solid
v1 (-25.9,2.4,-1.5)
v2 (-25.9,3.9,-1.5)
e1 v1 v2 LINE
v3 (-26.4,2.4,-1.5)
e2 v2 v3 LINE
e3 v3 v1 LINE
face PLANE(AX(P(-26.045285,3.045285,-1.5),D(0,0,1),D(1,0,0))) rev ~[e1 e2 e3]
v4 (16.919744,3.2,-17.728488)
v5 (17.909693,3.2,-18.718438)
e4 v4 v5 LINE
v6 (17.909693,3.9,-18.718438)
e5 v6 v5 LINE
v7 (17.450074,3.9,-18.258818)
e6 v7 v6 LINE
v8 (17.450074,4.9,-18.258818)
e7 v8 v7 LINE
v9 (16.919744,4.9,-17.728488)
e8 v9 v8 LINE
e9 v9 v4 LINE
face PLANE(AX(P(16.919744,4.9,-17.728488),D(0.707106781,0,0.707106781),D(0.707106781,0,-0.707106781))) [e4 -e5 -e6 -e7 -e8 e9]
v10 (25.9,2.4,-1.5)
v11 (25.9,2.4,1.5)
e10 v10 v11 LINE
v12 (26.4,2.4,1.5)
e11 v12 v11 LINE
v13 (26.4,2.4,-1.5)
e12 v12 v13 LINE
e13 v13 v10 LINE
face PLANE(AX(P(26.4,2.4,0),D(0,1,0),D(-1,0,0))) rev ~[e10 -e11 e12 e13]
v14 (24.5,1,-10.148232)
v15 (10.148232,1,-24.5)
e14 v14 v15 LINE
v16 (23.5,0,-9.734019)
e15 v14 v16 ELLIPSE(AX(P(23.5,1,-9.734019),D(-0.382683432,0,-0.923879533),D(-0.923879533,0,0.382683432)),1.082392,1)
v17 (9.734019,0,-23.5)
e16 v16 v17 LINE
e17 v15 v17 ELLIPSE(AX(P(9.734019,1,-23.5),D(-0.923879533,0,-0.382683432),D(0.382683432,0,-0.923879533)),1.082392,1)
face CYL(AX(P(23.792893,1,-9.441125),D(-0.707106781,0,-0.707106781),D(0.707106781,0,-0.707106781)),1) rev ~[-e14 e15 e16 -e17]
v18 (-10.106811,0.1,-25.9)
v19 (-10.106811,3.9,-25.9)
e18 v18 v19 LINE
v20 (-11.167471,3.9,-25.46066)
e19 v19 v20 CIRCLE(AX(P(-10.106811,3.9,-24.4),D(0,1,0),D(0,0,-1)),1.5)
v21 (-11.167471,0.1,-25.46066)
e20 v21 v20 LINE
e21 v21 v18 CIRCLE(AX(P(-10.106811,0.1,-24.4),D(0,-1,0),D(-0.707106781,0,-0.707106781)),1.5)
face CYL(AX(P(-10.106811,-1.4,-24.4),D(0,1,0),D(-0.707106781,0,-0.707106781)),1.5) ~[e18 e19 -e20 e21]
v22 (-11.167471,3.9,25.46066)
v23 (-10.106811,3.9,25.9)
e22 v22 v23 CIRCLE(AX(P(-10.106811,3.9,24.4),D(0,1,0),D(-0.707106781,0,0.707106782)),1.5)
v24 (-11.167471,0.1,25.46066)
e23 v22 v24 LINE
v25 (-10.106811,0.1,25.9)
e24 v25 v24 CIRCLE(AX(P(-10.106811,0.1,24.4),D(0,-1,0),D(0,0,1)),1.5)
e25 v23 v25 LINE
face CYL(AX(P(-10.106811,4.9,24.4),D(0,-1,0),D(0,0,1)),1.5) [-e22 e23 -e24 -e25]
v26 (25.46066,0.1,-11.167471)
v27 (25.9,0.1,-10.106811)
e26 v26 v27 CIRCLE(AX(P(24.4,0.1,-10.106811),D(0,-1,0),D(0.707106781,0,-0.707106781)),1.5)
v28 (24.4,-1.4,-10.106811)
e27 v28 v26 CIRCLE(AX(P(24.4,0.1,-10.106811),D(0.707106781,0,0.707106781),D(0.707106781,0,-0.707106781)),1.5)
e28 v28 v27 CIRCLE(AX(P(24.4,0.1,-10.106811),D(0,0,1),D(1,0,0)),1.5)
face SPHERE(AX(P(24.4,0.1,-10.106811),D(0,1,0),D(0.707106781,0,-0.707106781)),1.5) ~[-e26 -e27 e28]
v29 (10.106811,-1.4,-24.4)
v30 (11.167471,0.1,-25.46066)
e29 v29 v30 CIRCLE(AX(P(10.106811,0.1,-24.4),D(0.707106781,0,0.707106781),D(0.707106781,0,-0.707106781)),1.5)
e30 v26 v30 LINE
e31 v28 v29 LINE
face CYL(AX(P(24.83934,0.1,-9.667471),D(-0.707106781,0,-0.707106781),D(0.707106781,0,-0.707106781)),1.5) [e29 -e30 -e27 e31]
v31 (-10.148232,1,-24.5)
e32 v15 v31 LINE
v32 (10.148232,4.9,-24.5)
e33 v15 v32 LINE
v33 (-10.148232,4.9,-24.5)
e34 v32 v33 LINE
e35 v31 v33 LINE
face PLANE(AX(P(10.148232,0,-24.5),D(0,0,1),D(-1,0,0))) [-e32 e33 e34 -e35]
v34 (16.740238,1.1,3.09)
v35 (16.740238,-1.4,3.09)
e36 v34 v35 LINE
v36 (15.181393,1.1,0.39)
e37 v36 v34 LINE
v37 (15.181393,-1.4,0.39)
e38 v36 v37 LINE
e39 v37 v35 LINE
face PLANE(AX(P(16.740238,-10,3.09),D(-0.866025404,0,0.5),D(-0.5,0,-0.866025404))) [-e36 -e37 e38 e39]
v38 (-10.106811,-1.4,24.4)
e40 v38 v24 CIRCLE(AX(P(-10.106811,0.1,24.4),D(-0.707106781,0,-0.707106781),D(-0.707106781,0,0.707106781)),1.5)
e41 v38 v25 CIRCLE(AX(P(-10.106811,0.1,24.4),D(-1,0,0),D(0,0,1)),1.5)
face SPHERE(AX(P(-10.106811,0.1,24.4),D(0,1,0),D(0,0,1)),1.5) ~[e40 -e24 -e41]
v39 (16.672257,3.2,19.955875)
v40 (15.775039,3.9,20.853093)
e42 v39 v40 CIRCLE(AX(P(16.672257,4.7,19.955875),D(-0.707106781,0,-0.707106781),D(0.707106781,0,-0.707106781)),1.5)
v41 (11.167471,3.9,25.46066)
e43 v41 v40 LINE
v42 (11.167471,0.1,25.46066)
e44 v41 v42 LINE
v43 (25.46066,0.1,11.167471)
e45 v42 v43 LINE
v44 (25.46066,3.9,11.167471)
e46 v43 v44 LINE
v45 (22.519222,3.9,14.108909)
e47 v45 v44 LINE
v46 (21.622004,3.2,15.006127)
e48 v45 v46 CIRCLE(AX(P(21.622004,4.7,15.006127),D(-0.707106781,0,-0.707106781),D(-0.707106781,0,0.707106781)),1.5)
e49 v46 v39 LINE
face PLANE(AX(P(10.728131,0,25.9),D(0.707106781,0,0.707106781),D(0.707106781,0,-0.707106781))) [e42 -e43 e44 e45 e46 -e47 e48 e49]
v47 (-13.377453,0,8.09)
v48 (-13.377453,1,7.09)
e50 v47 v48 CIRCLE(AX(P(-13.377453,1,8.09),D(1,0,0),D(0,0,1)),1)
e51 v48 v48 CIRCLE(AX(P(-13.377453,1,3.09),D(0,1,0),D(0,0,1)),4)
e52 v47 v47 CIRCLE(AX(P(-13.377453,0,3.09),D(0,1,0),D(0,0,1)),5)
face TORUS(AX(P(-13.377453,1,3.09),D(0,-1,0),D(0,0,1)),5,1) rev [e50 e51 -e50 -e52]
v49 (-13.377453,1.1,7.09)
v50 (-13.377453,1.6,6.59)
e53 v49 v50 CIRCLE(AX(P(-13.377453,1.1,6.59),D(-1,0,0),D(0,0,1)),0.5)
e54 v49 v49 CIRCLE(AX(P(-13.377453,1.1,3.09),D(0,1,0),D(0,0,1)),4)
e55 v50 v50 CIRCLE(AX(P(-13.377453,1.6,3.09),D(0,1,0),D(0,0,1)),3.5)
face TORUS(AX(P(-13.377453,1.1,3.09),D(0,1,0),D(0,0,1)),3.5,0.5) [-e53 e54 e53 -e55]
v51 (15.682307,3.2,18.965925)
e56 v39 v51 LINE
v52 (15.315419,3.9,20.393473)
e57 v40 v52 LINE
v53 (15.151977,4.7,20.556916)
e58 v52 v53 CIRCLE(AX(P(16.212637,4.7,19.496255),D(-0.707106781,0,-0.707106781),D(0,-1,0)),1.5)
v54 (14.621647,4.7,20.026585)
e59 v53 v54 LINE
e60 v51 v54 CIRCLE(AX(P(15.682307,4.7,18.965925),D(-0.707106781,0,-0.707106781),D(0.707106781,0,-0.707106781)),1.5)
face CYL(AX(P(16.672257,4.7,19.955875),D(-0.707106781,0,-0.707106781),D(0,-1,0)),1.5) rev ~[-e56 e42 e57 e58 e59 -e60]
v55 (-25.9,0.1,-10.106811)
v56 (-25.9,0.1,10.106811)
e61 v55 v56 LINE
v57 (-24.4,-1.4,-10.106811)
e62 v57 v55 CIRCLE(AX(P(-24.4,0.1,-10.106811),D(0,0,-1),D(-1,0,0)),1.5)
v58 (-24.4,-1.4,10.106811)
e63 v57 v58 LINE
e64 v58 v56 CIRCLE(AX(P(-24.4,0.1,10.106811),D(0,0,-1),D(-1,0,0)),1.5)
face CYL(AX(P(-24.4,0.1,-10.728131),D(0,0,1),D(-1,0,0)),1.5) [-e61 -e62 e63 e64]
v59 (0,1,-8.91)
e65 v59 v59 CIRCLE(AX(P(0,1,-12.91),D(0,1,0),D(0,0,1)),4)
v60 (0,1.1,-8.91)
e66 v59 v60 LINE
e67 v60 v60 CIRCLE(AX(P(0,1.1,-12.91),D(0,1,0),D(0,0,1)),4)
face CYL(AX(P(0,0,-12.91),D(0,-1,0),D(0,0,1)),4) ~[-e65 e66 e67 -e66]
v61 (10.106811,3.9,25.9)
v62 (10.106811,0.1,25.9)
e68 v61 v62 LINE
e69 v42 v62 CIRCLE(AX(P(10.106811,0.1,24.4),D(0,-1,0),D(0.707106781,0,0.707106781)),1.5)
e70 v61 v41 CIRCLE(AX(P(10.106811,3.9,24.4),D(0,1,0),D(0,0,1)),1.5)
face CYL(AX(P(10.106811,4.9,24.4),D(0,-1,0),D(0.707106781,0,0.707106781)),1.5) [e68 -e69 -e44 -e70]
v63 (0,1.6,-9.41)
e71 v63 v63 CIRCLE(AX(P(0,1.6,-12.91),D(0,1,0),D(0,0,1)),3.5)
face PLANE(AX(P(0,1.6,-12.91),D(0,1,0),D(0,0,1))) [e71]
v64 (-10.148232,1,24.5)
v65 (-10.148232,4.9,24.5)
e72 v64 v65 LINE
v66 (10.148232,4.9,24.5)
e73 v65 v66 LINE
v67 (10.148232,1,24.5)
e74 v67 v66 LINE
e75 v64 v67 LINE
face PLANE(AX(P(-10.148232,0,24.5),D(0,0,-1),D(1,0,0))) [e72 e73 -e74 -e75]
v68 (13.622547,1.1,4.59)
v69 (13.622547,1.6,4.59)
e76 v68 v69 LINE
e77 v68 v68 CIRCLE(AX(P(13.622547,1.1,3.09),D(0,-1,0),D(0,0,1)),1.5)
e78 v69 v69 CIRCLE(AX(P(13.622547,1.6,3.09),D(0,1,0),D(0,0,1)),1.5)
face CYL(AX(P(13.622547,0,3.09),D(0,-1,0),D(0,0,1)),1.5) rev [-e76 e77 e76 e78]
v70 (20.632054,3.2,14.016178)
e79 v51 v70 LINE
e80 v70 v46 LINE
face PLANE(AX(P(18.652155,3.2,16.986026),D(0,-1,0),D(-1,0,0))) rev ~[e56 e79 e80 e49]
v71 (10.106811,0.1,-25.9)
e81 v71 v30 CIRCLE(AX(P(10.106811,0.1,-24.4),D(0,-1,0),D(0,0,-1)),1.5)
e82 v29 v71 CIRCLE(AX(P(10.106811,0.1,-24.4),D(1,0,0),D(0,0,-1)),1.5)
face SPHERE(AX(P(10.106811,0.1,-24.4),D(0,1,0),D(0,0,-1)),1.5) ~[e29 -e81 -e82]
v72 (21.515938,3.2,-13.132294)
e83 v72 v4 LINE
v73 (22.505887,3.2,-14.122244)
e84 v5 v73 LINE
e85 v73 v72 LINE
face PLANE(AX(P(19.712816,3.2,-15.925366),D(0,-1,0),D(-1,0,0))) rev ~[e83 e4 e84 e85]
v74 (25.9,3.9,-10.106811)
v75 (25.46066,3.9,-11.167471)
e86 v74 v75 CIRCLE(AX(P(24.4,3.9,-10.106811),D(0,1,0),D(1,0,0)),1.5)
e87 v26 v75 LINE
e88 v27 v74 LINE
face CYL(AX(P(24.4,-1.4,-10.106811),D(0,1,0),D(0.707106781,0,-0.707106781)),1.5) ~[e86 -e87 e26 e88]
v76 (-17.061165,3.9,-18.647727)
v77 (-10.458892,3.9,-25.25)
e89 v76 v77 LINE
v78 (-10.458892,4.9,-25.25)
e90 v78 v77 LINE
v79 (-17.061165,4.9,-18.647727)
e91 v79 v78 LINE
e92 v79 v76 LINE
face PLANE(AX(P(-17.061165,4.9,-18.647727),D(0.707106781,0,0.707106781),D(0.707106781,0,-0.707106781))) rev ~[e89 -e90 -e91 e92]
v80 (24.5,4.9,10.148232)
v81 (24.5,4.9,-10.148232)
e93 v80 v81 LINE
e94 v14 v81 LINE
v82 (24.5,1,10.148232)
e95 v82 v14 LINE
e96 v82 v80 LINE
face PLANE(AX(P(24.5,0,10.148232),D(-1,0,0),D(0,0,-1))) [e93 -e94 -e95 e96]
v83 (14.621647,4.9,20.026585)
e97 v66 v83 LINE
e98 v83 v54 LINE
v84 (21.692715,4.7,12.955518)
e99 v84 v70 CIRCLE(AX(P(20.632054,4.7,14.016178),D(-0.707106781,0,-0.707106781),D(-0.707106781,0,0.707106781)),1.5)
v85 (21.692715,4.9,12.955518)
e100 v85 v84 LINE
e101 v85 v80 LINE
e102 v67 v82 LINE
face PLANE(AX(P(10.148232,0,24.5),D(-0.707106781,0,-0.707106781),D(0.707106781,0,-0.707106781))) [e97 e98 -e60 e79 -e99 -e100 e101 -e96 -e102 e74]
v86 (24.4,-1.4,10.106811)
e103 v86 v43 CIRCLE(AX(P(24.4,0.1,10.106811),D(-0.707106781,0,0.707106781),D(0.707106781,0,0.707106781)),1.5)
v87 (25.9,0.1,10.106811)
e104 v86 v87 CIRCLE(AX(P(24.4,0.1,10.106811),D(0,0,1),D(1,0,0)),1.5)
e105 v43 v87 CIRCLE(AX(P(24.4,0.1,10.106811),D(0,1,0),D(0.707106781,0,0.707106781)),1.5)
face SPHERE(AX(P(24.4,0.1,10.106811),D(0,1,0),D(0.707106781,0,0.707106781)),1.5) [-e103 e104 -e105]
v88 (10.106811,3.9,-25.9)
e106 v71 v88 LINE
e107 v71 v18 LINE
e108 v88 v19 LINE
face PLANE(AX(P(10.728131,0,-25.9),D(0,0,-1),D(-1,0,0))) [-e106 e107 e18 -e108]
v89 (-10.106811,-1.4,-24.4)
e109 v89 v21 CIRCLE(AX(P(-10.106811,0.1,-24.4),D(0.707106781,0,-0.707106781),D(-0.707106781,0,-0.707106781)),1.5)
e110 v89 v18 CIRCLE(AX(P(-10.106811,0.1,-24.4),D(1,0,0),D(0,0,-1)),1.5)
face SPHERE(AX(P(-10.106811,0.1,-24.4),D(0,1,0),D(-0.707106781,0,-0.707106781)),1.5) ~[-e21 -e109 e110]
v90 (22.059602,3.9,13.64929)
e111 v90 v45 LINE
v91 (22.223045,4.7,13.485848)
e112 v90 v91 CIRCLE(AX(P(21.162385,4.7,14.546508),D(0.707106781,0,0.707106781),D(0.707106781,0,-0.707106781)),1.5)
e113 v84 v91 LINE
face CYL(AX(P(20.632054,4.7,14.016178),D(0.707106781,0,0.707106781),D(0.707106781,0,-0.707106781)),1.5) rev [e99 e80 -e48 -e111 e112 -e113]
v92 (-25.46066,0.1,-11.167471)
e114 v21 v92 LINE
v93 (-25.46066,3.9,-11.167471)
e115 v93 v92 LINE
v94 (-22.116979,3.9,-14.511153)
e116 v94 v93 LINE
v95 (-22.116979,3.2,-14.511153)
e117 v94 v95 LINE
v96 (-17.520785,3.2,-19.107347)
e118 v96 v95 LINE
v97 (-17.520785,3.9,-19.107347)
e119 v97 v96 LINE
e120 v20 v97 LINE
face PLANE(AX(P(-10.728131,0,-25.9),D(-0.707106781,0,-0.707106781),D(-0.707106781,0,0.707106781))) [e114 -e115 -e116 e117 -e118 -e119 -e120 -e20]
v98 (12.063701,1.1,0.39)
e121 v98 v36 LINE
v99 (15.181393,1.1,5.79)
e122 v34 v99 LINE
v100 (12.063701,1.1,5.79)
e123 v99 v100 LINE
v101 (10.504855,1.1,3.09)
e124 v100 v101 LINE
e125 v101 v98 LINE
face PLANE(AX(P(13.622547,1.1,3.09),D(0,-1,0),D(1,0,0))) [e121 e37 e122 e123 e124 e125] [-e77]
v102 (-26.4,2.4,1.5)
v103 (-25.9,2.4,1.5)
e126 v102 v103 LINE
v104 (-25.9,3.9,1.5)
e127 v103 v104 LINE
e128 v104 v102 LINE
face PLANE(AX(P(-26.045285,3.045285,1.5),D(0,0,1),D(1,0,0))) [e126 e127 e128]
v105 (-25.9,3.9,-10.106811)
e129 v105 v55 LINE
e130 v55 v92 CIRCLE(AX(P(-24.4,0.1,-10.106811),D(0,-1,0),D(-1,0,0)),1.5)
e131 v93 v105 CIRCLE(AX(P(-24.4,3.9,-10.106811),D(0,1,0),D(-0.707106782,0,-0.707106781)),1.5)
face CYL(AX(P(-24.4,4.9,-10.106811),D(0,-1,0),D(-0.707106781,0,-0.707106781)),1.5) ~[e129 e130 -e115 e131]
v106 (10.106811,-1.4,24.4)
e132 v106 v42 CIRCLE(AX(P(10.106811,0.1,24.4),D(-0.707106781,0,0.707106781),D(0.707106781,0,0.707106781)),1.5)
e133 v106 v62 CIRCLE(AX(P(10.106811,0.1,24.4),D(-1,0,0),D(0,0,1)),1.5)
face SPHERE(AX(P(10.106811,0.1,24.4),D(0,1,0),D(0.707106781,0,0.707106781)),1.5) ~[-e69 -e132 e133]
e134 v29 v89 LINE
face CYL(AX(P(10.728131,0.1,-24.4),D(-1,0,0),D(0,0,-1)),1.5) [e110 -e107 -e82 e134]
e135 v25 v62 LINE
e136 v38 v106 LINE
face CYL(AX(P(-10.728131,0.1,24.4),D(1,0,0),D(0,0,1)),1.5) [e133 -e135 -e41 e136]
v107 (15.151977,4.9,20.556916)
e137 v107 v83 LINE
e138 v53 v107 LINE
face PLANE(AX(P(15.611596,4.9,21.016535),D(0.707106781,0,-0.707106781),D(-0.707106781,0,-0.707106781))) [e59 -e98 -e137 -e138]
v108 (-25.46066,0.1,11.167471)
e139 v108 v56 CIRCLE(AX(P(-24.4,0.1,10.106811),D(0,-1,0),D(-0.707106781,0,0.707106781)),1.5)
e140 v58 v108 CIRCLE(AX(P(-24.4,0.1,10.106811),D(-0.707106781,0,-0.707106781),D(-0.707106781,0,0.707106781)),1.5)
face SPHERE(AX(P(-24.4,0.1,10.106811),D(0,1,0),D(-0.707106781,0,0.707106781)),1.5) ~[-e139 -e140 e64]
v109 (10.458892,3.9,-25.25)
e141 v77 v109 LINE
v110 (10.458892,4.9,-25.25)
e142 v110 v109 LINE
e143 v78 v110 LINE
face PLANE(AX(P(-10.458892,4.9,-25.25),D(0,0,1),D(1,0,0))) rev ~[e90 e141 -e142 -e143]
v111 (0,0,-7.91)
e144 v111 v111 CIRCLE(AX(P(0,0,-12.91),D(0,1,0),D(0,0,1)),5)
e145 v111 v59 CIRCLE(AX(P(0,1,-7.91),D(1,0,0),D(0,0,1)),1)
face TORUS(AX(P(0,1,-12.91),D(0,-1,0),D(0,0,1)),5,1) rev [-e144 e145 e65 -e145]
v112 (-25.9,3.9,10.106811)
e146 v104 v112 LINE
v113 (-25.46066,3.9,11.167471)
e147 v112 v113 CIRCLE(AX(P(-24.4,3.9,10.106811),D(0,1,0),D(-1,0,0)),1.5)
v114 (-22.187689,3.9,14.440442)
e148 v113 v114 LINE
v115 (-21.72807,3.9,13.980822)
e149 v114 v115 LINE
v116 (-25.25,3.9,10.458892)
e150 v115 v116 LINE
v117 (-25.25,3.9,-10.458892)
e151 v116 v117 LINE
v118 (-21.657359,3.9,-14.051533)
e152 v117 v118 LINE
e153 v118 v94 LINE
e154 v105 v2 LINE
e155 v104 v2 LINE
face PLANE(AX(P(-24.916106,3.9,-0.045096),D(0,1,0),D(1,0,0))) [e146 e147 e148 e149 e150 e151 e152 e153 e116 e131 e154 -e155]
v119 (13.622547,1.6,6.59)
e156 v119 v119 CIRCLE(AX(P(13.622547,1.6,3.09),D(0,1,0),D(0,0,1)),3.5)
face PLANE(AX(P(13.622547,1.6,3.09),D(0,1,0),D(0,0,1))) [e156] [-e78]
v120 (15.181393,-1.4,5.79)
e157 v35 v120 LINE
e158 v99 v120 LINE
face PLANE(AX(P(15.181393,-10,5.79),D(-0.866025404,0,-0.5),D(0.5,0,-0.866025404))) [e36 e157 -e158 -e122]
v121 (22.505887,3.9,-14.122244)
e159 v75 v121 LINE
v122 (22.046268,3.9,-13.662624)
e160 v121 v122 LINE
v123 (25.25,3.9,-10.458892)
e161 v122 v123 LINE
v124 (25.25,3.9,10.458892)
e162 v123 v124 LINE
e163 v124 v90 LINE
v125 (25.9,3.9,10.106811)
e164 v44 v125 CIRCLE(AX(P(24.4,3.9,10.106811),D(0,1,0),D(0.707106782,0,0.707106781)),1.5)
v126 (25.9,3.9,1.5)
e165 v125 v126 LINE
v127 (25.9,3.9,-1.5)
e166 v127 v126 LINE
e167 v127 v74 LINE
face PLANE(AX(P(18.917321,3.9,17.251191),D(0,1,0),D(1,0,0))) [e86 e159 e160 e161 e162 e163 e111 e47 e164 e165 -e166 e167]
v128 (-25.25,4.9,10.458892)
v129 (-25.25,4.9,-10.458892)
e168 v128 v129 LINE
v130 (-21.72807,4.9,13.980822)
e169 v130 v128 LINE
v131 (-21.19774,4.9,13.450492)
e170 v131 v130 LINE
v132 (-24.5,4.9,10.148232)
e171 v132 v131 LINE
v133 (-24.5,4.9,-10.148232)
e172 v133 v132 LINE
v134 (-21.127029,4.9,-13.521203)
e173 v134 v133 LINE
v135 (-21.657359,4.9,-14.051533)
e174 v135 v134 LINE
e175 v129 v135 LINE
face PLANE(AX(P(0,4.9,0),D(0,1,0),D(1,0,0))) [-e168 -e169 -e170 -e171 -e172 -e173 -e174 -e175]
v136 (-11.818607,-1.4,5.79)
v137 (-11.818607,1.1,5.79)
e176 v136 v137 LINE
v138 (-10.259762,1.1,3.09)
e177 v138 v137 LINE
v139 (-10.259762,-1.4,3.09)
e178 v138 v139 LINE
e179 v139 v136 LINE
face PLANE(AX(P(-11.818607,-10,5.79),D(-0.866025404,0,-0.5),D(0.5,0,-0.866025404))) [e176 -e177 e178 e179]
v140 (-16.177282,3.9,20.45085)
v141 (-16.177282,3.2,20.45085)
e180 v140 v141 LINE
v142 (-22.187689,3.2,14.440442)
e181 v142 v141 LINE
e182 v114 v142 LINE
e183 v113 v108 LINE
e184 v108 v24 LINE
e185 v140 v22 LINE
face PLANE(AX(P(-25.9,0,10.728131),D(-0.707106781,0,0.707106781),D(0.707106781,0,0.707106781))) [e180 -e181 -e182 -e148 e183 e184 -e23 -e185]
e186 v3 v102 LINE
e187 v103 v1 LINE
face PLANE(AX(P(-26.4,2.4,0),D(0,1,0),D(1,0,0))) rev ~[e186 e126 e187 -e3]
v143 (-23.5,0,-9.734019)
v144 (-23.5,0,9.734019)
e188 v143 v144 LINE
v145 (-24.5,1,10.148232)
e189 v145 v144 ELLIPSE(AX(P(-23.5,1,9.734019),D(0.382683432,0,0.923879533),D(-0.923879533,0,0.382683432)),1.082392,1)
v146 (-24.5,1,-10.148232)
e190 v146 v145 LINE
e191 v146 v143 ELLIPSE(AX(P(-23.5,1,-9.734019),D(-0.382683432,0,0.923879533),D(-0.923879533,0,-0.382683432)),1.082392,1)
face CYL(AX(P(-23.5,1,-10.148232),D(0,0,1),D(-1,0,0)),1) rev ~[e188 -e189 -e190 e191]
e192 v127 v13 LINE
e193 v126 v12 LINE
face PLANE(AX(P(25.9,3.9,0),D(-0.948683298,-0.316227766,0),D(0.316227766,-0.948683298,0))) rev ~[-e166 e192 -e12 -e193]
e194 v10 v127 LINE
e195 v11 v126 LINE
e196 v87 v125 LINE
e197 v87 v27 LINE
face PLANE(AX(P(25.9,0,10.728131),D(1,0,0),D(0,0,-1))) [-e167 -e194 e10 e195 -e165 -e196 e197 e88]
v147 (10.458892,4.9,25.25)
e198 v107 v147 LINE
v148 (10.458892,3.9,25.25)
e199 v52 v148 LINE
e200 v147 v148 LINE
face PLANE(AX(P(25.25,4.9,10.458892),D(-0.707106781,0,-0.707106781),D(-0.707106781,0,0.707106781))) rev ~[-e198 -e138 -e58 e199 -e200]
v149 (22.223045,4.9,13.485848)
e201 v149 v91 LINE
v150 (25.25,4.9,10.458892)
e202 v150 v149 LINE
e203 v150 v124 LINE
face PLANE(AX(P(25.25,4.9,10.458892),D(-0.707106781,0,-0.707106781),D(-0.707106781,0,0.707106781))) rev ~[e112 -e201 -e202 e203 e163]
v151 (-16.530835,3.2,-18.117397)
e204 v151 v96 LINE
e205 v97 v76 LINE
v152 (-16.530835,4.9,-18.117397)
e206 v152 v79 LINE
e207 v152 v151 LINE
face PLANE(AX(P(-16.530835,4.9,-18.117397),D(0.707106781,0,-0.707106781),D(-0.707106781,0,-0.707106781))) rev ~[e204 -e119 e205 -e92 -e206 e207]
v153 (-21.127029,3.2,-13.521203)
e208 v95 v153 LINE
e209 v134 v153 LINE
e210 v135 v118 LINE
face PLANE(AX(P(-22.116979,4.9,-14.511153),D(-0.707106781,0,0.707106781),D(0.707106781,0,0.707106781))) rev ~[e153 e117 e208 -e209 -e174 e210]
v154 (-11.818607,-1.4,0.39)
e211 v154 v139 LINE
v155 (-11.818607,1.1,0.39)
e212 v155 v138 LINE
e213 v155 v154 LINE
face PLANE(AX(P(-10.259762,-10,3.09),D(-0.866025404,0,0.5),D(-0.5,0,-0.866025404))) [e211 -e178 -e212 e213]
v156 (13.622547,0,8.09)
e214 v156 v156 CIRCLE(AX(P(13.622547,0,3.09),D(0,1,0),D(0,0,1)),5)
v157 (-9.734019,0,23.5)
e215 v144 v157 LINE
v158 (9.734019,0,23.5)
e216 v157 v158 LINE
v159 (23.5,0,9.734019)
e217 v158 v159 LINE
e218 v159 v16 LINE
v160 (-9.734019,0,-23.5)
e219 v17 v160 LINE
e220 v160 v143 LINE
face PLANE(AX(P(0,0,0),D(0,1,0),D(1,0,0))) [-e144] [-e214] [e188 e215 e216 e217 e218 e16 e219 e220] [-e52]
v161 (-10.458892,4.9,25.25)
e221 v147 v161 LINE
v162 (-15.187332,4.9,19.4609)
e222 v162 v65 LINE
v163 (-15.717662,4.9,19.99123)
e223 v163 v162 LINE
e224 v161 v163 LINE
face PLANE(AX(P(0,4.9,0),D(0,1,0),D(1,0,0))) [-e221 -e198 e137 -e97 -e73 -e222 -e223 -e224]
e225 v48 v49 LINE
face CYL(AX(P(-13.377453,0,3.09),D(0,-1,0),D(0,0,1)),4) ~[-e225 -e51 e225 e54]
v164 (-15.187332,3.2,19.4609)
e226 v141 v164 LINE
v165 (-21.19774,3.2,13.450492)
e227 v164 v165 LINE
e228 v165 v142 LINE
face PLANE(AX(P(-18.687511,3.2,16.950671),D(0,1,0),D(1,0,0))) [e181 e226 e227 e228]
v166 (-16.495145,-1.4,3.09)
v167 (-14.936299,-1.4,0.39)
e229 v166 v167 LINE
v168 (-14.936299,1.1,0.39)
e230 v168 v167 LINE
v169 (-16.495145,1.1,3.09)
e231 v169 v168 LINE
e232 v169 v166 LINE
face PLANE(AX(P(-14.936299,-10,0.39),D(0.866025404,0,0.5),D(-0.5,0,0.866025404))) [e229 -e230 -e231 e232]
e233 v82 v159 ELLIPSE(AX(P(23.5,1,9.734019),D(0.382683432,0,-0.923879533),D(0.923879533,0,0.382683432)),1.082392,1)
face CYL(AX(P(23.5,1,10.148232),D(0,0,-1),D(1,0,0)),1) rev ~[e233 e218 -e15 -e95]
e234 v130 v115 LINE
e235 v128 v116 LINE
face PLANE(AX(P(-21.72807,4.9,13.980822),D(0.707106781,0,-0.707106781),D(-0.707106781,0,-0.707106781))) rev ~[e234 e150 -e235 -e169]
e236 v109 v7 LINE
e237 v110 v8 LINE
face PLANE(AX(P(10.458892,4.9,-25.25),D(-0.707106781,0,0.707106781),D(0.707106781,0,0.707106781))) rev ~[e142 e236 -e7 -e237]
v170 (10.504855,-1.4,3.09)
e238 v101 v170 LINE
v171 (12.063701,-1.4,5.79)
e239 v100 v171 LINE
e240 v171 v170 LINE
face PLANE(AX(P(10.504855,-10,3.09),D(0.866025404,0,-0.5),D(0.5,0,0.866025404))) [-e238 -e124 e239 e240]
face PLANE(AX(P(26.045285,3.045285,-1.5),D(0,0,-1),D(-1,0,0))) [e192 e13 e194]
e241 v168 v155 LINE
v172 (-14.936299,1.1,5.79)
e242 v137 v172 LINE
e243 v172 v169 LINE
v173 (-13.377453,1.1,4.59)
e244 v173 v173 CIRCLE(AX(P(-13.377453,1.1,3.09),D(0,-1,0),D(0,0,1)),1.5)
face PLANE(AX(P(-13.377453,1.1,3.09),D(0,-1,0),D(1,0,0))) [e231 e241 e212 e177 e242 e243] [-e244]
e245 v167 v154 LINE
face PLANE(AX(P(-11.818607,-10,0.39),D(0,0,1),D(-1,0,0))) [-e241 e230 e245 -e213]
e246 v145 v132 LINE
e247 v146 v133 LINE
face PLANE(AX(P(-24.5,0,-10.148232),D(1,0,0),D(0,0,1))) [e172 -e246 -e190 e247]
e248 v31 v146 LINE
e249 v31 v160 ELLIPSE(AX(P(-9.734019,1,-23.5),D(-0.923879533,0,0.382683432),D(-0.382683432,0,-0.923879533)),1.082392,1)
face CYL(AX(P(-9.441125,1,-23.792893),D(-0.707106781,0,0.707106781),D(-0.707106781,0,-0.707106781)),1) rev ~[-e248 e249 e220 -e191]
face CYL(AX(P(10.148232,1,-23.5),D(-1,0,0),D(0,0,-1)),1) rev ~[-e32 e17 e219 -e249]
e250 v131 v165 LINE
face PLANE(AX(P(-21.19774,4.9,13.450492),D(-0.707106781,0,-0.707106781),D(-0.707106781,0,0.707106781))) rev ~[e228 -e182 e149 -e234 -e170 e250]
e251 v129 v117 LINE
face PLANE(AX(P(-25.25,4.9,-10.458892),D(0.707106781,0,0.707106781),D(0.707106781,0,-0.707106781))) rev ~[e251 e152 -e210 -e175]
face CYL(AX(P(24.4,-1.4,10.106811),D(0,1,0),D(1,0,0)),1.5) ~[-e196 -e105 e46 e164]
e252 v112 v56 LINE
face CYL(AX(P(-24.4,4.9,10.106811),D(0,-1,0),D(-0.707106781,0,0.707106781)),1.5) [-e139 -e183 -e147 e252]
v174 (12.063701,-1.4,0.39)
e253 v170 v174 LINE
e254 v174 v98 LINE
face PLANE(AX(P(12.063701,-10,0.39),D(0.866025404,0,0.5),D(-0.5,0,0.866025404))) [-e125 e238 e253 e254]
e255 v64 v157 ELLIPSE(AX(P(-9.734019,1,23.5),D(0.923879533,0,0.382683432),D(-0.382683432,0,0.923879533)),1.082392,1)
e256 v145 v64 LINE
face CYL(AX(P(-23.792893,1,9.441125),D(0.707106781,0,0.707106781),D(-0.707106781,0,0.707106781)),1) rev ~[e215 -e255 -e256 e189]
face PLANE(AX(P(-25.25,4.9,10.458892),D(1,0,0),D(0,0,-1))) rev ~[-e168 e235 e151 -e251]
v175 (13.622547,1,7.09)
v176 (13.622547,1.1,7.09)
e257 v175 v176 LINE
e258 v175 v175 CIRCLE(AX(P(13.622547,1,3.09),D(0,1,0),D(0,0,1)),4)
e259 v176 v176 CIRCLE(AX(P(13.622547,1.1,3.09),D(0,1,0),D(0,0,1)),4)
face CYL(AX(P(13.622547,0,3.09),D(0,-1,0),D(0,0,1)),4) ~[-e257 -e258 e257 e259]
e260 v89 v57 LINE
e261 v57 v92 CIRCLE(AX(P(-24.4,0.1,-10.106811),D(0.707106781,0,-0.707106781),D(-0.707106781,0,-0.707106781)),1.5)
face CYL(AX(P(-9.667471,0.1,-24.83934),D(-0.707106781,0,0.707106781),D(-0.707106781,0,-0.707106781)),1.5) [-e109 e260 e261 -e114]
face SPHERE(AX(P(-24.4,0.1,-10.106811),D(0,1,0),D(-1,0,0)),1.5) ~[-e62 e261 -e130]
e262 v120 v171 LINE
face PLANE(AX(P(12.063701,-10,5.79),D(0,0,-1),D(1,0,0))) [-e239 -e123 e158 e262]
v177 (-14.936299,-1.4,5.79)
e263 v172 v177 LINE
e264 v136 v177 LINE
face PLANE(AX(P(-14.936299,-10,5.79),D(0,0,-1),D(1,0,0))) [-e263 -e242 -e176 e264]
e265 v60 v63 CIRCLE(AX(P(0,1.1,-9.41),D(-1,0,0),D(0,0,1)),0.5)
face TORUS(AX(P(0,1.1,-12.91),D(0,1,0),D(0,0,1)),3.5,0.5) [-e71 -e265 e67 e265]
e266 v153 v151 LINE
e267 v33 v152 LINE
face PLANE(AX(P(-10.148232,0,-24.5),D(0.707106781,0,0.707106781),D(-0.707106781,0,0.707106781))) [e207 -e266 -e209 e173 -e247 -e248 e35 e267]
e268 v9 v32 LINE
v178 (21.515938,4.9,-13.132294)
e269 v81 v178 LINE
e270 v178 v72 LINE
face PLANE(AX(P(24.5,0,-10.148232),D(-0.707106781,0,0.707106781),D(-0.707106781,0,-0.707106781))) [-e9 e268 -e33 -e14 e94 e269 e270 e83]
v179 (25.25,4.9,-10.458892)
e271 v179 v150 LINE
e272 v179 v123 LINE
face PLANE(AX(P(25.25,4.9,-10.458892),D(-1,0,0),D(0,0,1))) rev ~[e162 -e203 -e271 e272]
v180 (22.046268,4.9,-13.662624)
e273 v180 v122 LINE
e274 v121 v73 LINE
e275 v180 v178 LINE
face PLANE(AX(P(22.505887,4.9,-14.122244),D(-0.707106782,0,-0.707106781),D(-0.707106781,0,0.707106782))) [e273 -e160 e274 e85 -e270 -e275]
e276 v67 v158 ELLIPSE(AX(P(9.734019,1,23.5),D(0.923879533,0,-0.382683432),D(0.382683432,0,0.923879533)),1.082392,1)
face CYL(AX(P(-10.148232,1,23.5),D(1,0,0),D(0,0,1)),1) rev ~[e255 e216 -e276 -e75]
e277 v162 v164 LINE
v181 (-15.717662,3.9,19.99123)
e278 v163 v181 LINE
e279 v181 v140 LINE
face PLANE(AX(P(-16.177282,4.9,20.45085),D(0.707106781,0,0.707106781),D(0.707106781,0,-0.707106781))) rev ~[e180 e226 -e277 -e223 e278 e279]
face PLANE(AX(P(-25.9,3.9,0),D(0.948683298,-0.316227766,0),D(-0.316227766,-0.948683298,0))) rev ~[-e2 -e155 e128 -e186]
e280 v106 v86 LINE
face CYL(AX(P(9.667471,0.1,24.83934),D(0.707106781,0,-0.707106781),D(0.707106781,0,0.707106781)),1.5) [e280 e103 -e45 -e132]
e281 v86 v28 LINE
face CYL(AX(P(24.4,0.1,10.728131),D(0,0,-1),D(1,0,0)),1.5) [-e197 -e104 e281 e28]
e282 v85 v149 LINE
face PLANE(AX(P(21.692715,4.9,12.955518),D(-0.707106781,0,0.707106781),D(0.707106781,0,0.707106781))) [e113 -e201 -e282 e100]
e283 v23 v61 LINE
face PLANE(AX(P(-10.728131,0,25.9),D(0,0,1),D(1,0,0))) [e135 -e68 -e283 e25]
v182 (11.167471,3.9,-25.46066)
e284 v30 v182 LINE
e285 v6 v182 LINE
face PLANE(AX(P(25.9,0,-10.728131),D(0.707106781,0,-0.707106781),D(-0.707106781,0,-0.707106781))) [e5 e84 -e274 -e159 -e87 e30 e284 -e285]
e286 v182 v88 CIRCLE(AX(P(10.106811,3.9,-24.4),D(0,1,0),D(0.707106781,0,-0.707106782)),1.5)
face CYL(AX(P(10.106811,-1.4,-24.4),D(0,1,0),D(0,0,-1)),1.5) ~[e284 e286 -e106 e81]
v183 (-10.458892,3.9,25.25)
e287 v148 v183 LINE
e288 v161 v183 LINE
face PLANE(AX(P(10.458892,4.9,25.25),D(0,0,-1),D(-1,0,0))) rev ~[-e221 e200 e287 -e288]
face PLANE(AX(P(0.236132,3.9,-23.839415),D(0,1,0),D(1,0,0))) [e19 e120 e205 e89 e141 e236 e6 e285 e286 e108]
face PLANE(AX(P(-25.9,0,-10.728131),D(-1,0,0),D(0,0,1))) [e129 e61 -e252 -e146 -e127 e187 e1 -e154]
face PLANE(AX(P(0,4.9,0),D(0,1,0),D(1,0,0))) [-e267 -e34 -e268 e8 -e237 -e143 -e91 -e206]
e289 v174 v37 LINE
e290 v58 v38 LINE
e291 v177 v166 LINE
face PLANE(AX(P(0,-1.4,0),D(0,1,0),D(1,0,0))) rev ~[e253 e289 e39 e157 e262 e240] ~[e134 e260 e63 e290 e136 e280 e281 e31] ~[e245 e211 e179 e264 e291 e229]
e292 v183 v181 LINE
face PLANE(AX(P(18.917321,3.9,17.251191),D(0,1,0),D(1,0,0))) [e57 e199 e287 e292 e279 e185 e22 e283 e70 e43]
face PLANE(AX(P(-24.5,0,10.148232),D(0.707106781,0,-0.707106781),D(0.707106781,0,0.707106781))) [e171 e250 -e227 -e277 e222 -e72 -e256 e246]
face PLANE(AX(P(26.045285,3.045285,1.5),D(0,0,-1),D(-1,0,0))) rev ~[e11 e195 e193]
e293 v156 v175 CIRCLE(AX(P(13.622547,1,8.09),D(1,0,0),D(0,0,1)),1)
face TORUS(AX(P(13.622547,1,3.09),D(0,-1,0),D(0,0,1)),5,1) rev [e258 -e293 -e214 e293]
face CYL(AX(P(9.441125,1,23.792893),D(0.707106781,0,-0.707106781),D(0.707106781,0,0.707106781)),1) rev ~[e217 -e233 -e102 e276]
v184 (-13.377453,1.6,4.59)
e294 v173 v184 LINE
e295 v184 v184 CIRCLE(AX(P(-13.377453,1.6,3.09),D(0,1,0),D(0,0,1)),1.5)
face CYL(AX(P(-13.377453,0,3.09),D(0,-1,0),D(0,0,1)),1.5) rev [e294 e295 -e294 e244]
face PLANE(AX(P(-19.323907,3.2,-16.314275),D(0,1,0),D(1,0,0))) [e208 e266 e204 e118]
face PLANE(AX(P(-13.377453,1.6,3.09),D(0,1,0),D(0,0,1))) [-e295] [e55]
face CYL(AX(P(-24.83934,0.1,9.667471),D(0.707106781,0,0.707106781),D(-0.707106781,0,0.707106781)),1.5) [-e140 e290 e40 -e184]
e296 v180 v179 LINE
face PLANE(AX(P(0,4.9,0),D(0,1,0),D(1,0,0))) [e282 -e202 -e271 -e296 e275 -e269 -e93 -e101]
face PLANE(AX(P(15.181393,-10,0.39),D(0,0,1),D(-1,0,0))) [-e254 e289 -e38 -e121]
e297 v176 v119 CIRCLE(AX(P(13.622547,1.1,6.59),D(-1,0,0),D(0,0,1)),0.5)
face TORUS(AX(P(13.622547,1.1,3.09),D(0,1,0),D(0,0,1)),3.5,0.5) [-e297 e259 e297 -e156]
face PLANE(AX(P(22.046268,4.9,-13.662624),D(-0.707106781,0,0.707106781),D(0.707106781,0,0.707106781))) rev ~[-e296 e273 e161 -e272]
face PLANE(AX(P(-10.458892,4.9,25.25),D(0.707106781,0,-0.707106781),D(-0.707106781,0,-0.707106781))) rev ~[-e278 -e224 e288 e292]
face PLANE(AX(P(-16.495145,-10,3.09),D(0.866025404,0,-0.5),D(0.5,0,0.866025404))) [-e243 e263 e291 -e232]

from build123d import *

# Parameters (mm, degrees)
BOSS_EXTRUDE1_DEPTH = 4.9
SKETCH1_4_R         = 4
SKETCH1_4_R_2       = 1.5
BOSS_EXTRUDE2_DEPTH = 1.4
SKETCH1_5_R         = 4
SKETCH1_5_R_2       = 1.5
BOSS_EXTRUDE3_DEPTH = 1.6
FILLET1_R           = 1
FILLET2_R           = 0.5
CUT_EXTRUDE1_DEPTH  = 1.7
FILLET3_R           = 1.5
CUT_EXTRUDE2_DEPTH  = 1
CUT_EXTRUDE4_START  = -10
SKETCH4_R           = 1.5
CUT_EXTRUDE4_DEPTH  = 10
CUT_EXTRUDE5_DEPTH  = 1.1
BOSS_EXTRUDE5_DEPTH = 1.5


with BuildPart() as part:
    # Sketch1 → Boss-Extrude1 (new body)
    with BuildSketch(Plane(origin=(0, 0, 0), x_dir=(1, 0, 0), z_dir=(0, 1, 0))):
        Polygon((10.728131265, -25.9), (25.9, -10.728131265), (25.9, 10.728131265), (10.728131265, 25.9), (-10.728131265, 25.9), (-25.9, 10.728131265), (-25.9, -10.728131265), (-10.728131265, -25.9), align=None)
        Polygon((24.5, -10.148232278), (24.5, 10.148232278), (10.148232278, 24.5), (-10.148232278, 24.5), (-24.5, 10.148232278), (-24.5, -10.148232278), (-10.148232278, -24.5), (10.148232278, -24.5), align=None, mode=Mode.SUBTRACT)
    extrude(amount=BOSS_EXTRUDE1_DEPTH)

    # Sketch1<4> → Boss-Extrude2 (add)
    # profile 1 of 8: a face of its own
    with BuildSketch(Plane(origin=(0, 0, 0), x_dir=(1, 0, 0), z_dir=(0, 1, 0))):
        Polygon((10.728131265, -25.9), (25.9, -10.728131265), (25.9, 10.728131265), (10.728131265, 25.9), (-10.728131265, 25.9), (-25.9, 10.728131265), (-25.9, -10.728131265), (-10.728131265, -25.9), align=None)
        Polygon((24.5, -10.148232278), (24.5, 10.148232278), (10.148232278, 24.5), (-10.148232278, 24.5), (-24.5, 10.148232278), (-24.5, -10.148232278), (-10.148232278, -24.5), (10.148232278, -24.5), align=None, mode=Mode.SUBTRACT)
    # profile 2 of 8: a face of its own
    with BuildSketch(Plane(origin=(0, 0, 0), x_dir=(1, 0, 0), z_dir=(0, 1, 0))):
        Polygon((10.148232278, -24.5), (24.5, -10.148232278), (24.5, 10.148232278), (10.148232278, 24.5), (-10.148232278, 24.5), (-24.5, 10.148232278), (-24.5, -10.148232278), (-10.148232278, -24.5), align=None)
        Polygon((24.1, -9.982546853), (24.1, 9.982546853), (9.982546853, 24.1), (-9.982546853, 24.1), (-24.1, 9.982546853), (-24.1, -9.982546853), (-9.982546853, -24.1), (9.982546853, -24.1), align=None, mode=Mode.SUBTRACT)
    # profile 3 of 8: a face of its own
    with BuildSketch(Plane(origin=(0, 0, 0), x_dir=(1, 0, 0), z_dir=(0, 1, 0))):
        Polygon((9.982546853, -24.1), (24.1, -9.982546853), (24.1, 9.982546853), (9.982546853, 24.1), (-9.982546853, 24.1), (-24.1, 9.982546853), (-24.1, -9.982546853), (-9.982546853, -24.1), align=None)
        with Locations((-13.377453147, -3.09)):
            Circle(SKETCH1_4_R, mode=Mode.SUBTRACT)
        with Locations((13.622546853, -3.09)):
            Circle(SKETCH1_4_R, mode=Mode.SUBTRACT)
    # profile 4 of 8: a face of its own
    with BuildSketch(Plane(origin=(0, 0, 0), x_dir=(1, 0, 0), z_dir=(0, 1, 0))):
        with Locations((13.622546853, -3.09)):
            Circle(SKETCH1_4_R)
        with Locations((13.622546853, -3.09)):
            Circle(SKETCH1_4_R_2, mode=Mode.SUBTRACT)
    # profile 5 of 8: a face of its own
    with BuildSketch(Plane(origin=(0, 0, 0), x_dir=(1, 0, 0), z_dir=(0, 1, 0))):
        with Locations((13.622546853, -3.09)):
            Circle(SKETCH1_4_R_2)
    # profile 6 of 8: a face of its own
    with BuildSketch(Plane(origin=(0, 0, 0), x_dir=(1, 0, 0), z_dir=(0, 1, 0))):
        with Locations((-13.377453147, -3.09)):
            Circle(SKETCH1_4_R)
        with Locations((-13.377453147, -3.09)):
            Circle(SKETCH1_4_R_2, mode=Mode.SUBTRACT)
    # profile 7 of 8: a face of its own
    with BuildSketch(Plane(origin=(0, 0, 0), x_dir=(1, 0, 0), z_dir=(0, 1, 0))):
        with Locations((-13.377453147, -3.09)):
            Circle(SKETCH1_4_R_2)
    # profile 8 of 8: a face of its own
    with BuildSketch(Plane(origin=(0, 0, 0), x_dir=(1, 0, 0), z_dir=(0, 1, 0))):
        with Locations((0, 12.91)):
            Circle(SKETCH1_4_R)
    extrude(amount=-BOSS_EXTRUDE2_DEPTH)

    # Sketch1<5> → Boss-Extrude3 (add)
    # profile 1 of 3: a face of its own
    with BuildSketch(Plane(origin=(0, 0, 0), x_dir=(1, 0, 0), z_dir=(0, 1, 0))):
        with Locations(Location((-13.377453147, -3.09, 0), (0, 0, 270))):
            Circle(SKETCH1_5_R)
        with Locations(Location((-13.377453147, -3.09, 0), (0, 0, 270))):
            Circle(SKETCH1_5_R_2, mode=Mode.SUBTRACT)
    # profile 2 of 3: a face of its own
    with BuildSketch(Plane(origin=(0, 0, 0), x_dir=(1, 0, 0), z_dir=(0, 1, 0))):
        with Locations(Location((13.622546853, -3.09, 0), (0, 0, 270))):
            Circle(SKETCH1_5_R)
        with Locations(Location((13.622546853, -3.09, 0), (0, 0, 270))):
            Circle(SKETCH1_5_R_2, mode=Mode.SUBTRACT)
    # profile 3 of 3: a face of its own
    with BuildSketch(Plane(origin=(0, 0, 0), x_dir=(1, 0, 0), z_dir=(0, 1, 0))):
        with Locations(Location((0, 12.91, 0), (0, 0, 270))):
            Circle(SKETCH1_5_R)
    extrude(amount=BOSS_EXTRUDE3_DEPTH)

    # Fillet1
    fillet1_edges = [part.edges().sort_by_distance(p)[0] for p in [
        (17.324116139, 0, -17.324116139),
        (0, 0, -24.5),
        (-17.324116139, 0, -17.324116139),
        (-24.5, 0, 0),
        (-17.324116139, 0, 17.324116139),
        (0, 0, 24.5),
        (17.324116139, 0, 17.324116139),
        (24.5, 0, 0),
        (-13.377453147, 0, -0.91),
        (13.622546853, 0, -0.91),
        (0, 0, -16.91),
    ]]
    fillet(fillet1_edges, radius=FILLET1_R)

    # Fillet2
    fillet2_edges = [part.edges().sort_by_distance(p)[0] for p in [
        (-13.377453147, 1.6, -0.91),
        (13.622546853, 1.6, -0.91),
        (0, 1.6, -16.91),
    ]]
    fillet(fillet2_edges, radius=FILLET2_R)

    # Sketch2 → Cut-Extrude1 (cut)
    with BuildSketch(Plane(origin=(0, 4.9, 0), x_dir=(1, 0, 0), z_dir=(0, 1, 0))):
        Polygon((-22.116978721, 14.511152545), (-21.127029227, 13.521203051), (-16.530835149, 18.117397129), (-17.520784643, 19.107346623), align=None)
        Polygon((16.919743879, 17.728488399), (17.909693373, 18.718437893), (22.50588745, 14.122243815), (21.515937957, 13.132294321), align=None)
        Polygon((21.692714652, -12.955517626), (22.682664146, -13.94546712), (15.611596334, -21.016534932), (14.62164684, -20.026585438), align=None)
        Polygon((-21.197739905, -13.450492373), (-22.187689399, -14.440441867), (-16.177281759, -20.450849507), (-15.187332265, -19.460900013), align=None)
    extrude(amount=-CUT_EXTRUDE1_DEPTH, mode=Mode.SUBTRACT)

    # Fillet3
    fillet3_edges = [part.edges().sort_by_distance(p)[0] for p in [
        (15.116621587, 3.2, 20.521560185),
        (22.187689399, 3.2, 13.450492373),
        (10.728131265, 1.75, 25.9),
        (-10.728131265, 1.75, 25.9),
        (-25.9, 1.75, 10.728131265),
        (-25.9, 1.75, -10.728131265),
        (-10.728131265, 1.75, -25.9),
        (10.728131265, 1.75, -25.9),
        (25.9, 1.75, -10.728131265),
        (25.9, 1.75, 10.728131265),
        (18.314065633, -1.4, 18.314065633),
        (0, -1.4, 25.9),
        (-18.314065633, -1.4, 18.314065633),
        (-25.9, -1.4, 0),
        (-18.314065633, -1.4, -18.314065633),
        (0, -1.4, -25.9),
        (18.314065633, -1.4, -18.314065633),
        (25.9, -1.4, 0),
    ]]
    fillet(fillet3_edges, radius=FILLET3_R)

    # Sketch3 → Cut-Extrude2 (cut)
    with BuildSketch(Plane(origin=(0, 4.9, 0), x_dir=(1, 0, 0), z_dir=(0, 1, 0))):
        Polygon((16.212637098, -19.496255352), (15.151976926, -20.556915524), (15.611596334, -21.016534932), (22.682664146, -13.94546712), (22.223044738, -13.485847712), (21.162384566, -14.546507884), align=None)
        with BuildLine():
            Line((22.223044738, -13.485847712), (22.682664146, -13.94546712))
            Line((22.682664146, -13.94546712), (25.460660172, -11.167471094))
            ThreePointArc((25.460660172, -11.167471094), (25.785819299, -10.68083607), (25.9, -10.106810922))
            Line((25.9, -10.106810922), (25.9, 10.106810922))
            ThreePointArc((25.9, 10.106810922), (25.785819299, 10.68083607), (25.460660172, 11.167471094))
            Line((25.460660172, 11.167471094), (22.50588745, 14.122243815))
            Line((22.50588745, 14.122243815), (22.046268043, 13.662624407))
            Line((22.046268043, 13.662624407), (25.25, 10.45889245))
            Line((25.25, 10.45889245), (25.25, -10.45889245))
            Line((25.25, -10.45889245), (22.223044738, -13.485847712))
        make_face()
        with BuildLine():
            Line((15.611596334, -21.016534932), (15.151976926, -20.556915524))
            Line((15.151976926, -20.556915524), (10.45889245, -25.25))
            Line((10.45889245, -25.25), (-10.45889245, -25.25))
            Line((-10.45889245, -25.25), (-15.717662351, -19.991230099))
            Line((-15.717662351, -19.991230099), (-16.177281759, -20.450849507))
            Line((-16.177281759, -20.450849507), (-11.167471094, -25.460660172))
            ThreePointArc((-11.167471094, -25.460660172), (-10.68083607, -25.785819299), (-10.106810922, -25.9))
            Line((-10.106810922, -25.9), (10.106810922, -25.9))
            ThreePointArc((10.106810922, -25.9), (10.68083607, -25.785819299), (11.167471094, -25.460660172))
            Line((11.167471094, -25.460660172), (15.611596334, -21.016534932))
        make_face()
        with BuildLine():
            Line((-22.187689399, -14.440441867), (-21.728069991, -13.980822459))
            Line((-21.728069991, -13.980822459), (-25.25, -10.45889245))
            Line((-25.25, -10.45889245), (-25.25, 10.45889245))
            Line((-25.25, 10.45889245), (-21.657359313, 14.051533137))
            Line((-21.657359313, 14.051533137), (-22.116978721, 14.511152545))
            Line((-22.116978721, 14.511152545), (-25.460660172, 11.167471094))
            ThreePointArc((-25.460660172, 11.167471094), (-25.785819299, 10.68083607), (-25.9, 10.106810922))
            Line((-25.9, 10.106810922), (-25.9, -10.106810922))
            ThreePointArc((-25.9, -10.106810922), (-25.785819299, -10.68083607), (-25.460660172, -11.167471094))
            Line((-25.460660172, -11.167471094), (-22.187689399, -14.440441867))
        make_face()
        with BuildLine():
            Line((10.45889245, 25.25), (17.450073965, 18.258818485))
            Line((17.450073965, 18.258818485), (17.909693373, 18.718437893))
            Line((17.909693373, 18.718437893), (11.167471094, 25.460660172))
            ThreePointArc((11.167471094, 25.460660172), (10.68083607, 25.785819299), (10.106810922, 25.9))
            Line((10.106810922, 25.9), (-10.106810922, 25.9))
            ThreePointArc((-10.106810922, 25.9), (-10.68083607, 25.785819299), (-11.167471094, 25.460660172))
            Line((-11.167471094, 25.460660172), (-17.520784643, 19.107346623))
            Line((-17.520784643, 19.107346623), (-17.061165235, 18.647727215))
            Line((-17.061165235, 18.647727215), (-10.45889245, 25.25))
            Line((-10.45889245, 25.25), (10.45889245, 25.25))
        make_face()
    extrude(amount=-CUT_EXTRUDE2_DEPTH, mode=Mode.SUBTRACT)

    # Sketch4 → Cut-Extrude4 (cut)
    # profile 1 of 4: a face of its own
    with BuildSketch(Plane(origin=(0, 0, 0), x_dir=(1, 0, 0), z_dir=(0, 1, 0)).offset(CUT_EXTRUDE4_START)):
        Polygon((-14.936298874, -5.79), (-11.81860742, -5.79), (-10.259761693, -3.09), (-11.81860742, -0.39), (-14.936298874, -0.39), (-16.4951446, -3.09), align=None)
        with Locations(Location((-13.377453147, -3.09, 0), (0, 0, 270))):
            Circle(SKETCH4_R, mode=Mode.SUBTRACT)
    # profile 2 of 4: a face of its own
    with BuildSketch(Plane(origin=(0, 0, 0), x_dir=(1, 0, 0), z_dir=(0, 1, 0)).offset(CUT_EXTRUDE4_START)):
        with Locations(Location((-13.377453147, -3.09, 0), (0, 0, 270))):
            Circle(SKETCH4_R)
    # profile 3 of 4: a face of its own
    with BuildSketch(Plane(origin=(0, 0, 0), x_dir=(1, 0, 0), z_dir=(0, 1, 0)).offset(CUT_EXTRUDE4_START)):
        Polygon((15.18139258, -0.39), (12.063701126, -0.39), (10.5048554, -3.09), (12.063701126, -5.79), (15.18139258, -5.79), (16.740238307, -3.09), align=None)
        with Locations(Location((13.622546853, -3.09, 0), (0, 0, 270))):
            Circle(SKETCH4_R, mode=Mode.SUBTRACT)
    # profile 4 of 4: a face of its own
    with BuildSketch(Plane(origin=(0, 0, 0), x_dir=(1, 0, 0), z_dir=(0, 1, 0)).offset(CUT_EXTRUDE4_START)):
        with Locations(Location((13.622546853, -3.09, 0), (0, 0, 270))):
            Circle(SKETCH4_R)
    extrude(amount=CUT_EXTRUDE4_DEPTH, mode=Mode.SUBTRACT)

    # Sketch5 → Cut-Extrude5 (cut)
    with BuildSketch(Plane.XZ):
        Polygon((-11.81860742, 5.79), (-14.936298874, 5.79), (-16.4951446, 3.09), (-14.936298874, 0.39), (-11.81860742, 0.39), (-10.259761693, 3.09), align=None)
        Polygon((12.063701126, 0.39), (15.18139258, 0.39), (16.740238307, 3.09), (15.18139258, 5.79), (12.063701126, 5.79), (10.5048554, 3.09), align=None)
    extrude(amount=-CUT_EXTRUDE5_DEPTH, mode=Mode.SUBTRACT)

    # Sketch7 → Boss-Extrude5 (add, symmetric)
    with BuildSketch(Plane.XY):
        Polygon((-25.9, 3.9), (-26.4, 2.4), (-25.9, 2.4), align=None)
        Polygon((25.9, 3.9), (26.4, 2.4), (25.9, 2.4), align=None)
    extrude(amount=BOSS_EXTRUDE5_DEPTH, both=True)


solid = part.part
